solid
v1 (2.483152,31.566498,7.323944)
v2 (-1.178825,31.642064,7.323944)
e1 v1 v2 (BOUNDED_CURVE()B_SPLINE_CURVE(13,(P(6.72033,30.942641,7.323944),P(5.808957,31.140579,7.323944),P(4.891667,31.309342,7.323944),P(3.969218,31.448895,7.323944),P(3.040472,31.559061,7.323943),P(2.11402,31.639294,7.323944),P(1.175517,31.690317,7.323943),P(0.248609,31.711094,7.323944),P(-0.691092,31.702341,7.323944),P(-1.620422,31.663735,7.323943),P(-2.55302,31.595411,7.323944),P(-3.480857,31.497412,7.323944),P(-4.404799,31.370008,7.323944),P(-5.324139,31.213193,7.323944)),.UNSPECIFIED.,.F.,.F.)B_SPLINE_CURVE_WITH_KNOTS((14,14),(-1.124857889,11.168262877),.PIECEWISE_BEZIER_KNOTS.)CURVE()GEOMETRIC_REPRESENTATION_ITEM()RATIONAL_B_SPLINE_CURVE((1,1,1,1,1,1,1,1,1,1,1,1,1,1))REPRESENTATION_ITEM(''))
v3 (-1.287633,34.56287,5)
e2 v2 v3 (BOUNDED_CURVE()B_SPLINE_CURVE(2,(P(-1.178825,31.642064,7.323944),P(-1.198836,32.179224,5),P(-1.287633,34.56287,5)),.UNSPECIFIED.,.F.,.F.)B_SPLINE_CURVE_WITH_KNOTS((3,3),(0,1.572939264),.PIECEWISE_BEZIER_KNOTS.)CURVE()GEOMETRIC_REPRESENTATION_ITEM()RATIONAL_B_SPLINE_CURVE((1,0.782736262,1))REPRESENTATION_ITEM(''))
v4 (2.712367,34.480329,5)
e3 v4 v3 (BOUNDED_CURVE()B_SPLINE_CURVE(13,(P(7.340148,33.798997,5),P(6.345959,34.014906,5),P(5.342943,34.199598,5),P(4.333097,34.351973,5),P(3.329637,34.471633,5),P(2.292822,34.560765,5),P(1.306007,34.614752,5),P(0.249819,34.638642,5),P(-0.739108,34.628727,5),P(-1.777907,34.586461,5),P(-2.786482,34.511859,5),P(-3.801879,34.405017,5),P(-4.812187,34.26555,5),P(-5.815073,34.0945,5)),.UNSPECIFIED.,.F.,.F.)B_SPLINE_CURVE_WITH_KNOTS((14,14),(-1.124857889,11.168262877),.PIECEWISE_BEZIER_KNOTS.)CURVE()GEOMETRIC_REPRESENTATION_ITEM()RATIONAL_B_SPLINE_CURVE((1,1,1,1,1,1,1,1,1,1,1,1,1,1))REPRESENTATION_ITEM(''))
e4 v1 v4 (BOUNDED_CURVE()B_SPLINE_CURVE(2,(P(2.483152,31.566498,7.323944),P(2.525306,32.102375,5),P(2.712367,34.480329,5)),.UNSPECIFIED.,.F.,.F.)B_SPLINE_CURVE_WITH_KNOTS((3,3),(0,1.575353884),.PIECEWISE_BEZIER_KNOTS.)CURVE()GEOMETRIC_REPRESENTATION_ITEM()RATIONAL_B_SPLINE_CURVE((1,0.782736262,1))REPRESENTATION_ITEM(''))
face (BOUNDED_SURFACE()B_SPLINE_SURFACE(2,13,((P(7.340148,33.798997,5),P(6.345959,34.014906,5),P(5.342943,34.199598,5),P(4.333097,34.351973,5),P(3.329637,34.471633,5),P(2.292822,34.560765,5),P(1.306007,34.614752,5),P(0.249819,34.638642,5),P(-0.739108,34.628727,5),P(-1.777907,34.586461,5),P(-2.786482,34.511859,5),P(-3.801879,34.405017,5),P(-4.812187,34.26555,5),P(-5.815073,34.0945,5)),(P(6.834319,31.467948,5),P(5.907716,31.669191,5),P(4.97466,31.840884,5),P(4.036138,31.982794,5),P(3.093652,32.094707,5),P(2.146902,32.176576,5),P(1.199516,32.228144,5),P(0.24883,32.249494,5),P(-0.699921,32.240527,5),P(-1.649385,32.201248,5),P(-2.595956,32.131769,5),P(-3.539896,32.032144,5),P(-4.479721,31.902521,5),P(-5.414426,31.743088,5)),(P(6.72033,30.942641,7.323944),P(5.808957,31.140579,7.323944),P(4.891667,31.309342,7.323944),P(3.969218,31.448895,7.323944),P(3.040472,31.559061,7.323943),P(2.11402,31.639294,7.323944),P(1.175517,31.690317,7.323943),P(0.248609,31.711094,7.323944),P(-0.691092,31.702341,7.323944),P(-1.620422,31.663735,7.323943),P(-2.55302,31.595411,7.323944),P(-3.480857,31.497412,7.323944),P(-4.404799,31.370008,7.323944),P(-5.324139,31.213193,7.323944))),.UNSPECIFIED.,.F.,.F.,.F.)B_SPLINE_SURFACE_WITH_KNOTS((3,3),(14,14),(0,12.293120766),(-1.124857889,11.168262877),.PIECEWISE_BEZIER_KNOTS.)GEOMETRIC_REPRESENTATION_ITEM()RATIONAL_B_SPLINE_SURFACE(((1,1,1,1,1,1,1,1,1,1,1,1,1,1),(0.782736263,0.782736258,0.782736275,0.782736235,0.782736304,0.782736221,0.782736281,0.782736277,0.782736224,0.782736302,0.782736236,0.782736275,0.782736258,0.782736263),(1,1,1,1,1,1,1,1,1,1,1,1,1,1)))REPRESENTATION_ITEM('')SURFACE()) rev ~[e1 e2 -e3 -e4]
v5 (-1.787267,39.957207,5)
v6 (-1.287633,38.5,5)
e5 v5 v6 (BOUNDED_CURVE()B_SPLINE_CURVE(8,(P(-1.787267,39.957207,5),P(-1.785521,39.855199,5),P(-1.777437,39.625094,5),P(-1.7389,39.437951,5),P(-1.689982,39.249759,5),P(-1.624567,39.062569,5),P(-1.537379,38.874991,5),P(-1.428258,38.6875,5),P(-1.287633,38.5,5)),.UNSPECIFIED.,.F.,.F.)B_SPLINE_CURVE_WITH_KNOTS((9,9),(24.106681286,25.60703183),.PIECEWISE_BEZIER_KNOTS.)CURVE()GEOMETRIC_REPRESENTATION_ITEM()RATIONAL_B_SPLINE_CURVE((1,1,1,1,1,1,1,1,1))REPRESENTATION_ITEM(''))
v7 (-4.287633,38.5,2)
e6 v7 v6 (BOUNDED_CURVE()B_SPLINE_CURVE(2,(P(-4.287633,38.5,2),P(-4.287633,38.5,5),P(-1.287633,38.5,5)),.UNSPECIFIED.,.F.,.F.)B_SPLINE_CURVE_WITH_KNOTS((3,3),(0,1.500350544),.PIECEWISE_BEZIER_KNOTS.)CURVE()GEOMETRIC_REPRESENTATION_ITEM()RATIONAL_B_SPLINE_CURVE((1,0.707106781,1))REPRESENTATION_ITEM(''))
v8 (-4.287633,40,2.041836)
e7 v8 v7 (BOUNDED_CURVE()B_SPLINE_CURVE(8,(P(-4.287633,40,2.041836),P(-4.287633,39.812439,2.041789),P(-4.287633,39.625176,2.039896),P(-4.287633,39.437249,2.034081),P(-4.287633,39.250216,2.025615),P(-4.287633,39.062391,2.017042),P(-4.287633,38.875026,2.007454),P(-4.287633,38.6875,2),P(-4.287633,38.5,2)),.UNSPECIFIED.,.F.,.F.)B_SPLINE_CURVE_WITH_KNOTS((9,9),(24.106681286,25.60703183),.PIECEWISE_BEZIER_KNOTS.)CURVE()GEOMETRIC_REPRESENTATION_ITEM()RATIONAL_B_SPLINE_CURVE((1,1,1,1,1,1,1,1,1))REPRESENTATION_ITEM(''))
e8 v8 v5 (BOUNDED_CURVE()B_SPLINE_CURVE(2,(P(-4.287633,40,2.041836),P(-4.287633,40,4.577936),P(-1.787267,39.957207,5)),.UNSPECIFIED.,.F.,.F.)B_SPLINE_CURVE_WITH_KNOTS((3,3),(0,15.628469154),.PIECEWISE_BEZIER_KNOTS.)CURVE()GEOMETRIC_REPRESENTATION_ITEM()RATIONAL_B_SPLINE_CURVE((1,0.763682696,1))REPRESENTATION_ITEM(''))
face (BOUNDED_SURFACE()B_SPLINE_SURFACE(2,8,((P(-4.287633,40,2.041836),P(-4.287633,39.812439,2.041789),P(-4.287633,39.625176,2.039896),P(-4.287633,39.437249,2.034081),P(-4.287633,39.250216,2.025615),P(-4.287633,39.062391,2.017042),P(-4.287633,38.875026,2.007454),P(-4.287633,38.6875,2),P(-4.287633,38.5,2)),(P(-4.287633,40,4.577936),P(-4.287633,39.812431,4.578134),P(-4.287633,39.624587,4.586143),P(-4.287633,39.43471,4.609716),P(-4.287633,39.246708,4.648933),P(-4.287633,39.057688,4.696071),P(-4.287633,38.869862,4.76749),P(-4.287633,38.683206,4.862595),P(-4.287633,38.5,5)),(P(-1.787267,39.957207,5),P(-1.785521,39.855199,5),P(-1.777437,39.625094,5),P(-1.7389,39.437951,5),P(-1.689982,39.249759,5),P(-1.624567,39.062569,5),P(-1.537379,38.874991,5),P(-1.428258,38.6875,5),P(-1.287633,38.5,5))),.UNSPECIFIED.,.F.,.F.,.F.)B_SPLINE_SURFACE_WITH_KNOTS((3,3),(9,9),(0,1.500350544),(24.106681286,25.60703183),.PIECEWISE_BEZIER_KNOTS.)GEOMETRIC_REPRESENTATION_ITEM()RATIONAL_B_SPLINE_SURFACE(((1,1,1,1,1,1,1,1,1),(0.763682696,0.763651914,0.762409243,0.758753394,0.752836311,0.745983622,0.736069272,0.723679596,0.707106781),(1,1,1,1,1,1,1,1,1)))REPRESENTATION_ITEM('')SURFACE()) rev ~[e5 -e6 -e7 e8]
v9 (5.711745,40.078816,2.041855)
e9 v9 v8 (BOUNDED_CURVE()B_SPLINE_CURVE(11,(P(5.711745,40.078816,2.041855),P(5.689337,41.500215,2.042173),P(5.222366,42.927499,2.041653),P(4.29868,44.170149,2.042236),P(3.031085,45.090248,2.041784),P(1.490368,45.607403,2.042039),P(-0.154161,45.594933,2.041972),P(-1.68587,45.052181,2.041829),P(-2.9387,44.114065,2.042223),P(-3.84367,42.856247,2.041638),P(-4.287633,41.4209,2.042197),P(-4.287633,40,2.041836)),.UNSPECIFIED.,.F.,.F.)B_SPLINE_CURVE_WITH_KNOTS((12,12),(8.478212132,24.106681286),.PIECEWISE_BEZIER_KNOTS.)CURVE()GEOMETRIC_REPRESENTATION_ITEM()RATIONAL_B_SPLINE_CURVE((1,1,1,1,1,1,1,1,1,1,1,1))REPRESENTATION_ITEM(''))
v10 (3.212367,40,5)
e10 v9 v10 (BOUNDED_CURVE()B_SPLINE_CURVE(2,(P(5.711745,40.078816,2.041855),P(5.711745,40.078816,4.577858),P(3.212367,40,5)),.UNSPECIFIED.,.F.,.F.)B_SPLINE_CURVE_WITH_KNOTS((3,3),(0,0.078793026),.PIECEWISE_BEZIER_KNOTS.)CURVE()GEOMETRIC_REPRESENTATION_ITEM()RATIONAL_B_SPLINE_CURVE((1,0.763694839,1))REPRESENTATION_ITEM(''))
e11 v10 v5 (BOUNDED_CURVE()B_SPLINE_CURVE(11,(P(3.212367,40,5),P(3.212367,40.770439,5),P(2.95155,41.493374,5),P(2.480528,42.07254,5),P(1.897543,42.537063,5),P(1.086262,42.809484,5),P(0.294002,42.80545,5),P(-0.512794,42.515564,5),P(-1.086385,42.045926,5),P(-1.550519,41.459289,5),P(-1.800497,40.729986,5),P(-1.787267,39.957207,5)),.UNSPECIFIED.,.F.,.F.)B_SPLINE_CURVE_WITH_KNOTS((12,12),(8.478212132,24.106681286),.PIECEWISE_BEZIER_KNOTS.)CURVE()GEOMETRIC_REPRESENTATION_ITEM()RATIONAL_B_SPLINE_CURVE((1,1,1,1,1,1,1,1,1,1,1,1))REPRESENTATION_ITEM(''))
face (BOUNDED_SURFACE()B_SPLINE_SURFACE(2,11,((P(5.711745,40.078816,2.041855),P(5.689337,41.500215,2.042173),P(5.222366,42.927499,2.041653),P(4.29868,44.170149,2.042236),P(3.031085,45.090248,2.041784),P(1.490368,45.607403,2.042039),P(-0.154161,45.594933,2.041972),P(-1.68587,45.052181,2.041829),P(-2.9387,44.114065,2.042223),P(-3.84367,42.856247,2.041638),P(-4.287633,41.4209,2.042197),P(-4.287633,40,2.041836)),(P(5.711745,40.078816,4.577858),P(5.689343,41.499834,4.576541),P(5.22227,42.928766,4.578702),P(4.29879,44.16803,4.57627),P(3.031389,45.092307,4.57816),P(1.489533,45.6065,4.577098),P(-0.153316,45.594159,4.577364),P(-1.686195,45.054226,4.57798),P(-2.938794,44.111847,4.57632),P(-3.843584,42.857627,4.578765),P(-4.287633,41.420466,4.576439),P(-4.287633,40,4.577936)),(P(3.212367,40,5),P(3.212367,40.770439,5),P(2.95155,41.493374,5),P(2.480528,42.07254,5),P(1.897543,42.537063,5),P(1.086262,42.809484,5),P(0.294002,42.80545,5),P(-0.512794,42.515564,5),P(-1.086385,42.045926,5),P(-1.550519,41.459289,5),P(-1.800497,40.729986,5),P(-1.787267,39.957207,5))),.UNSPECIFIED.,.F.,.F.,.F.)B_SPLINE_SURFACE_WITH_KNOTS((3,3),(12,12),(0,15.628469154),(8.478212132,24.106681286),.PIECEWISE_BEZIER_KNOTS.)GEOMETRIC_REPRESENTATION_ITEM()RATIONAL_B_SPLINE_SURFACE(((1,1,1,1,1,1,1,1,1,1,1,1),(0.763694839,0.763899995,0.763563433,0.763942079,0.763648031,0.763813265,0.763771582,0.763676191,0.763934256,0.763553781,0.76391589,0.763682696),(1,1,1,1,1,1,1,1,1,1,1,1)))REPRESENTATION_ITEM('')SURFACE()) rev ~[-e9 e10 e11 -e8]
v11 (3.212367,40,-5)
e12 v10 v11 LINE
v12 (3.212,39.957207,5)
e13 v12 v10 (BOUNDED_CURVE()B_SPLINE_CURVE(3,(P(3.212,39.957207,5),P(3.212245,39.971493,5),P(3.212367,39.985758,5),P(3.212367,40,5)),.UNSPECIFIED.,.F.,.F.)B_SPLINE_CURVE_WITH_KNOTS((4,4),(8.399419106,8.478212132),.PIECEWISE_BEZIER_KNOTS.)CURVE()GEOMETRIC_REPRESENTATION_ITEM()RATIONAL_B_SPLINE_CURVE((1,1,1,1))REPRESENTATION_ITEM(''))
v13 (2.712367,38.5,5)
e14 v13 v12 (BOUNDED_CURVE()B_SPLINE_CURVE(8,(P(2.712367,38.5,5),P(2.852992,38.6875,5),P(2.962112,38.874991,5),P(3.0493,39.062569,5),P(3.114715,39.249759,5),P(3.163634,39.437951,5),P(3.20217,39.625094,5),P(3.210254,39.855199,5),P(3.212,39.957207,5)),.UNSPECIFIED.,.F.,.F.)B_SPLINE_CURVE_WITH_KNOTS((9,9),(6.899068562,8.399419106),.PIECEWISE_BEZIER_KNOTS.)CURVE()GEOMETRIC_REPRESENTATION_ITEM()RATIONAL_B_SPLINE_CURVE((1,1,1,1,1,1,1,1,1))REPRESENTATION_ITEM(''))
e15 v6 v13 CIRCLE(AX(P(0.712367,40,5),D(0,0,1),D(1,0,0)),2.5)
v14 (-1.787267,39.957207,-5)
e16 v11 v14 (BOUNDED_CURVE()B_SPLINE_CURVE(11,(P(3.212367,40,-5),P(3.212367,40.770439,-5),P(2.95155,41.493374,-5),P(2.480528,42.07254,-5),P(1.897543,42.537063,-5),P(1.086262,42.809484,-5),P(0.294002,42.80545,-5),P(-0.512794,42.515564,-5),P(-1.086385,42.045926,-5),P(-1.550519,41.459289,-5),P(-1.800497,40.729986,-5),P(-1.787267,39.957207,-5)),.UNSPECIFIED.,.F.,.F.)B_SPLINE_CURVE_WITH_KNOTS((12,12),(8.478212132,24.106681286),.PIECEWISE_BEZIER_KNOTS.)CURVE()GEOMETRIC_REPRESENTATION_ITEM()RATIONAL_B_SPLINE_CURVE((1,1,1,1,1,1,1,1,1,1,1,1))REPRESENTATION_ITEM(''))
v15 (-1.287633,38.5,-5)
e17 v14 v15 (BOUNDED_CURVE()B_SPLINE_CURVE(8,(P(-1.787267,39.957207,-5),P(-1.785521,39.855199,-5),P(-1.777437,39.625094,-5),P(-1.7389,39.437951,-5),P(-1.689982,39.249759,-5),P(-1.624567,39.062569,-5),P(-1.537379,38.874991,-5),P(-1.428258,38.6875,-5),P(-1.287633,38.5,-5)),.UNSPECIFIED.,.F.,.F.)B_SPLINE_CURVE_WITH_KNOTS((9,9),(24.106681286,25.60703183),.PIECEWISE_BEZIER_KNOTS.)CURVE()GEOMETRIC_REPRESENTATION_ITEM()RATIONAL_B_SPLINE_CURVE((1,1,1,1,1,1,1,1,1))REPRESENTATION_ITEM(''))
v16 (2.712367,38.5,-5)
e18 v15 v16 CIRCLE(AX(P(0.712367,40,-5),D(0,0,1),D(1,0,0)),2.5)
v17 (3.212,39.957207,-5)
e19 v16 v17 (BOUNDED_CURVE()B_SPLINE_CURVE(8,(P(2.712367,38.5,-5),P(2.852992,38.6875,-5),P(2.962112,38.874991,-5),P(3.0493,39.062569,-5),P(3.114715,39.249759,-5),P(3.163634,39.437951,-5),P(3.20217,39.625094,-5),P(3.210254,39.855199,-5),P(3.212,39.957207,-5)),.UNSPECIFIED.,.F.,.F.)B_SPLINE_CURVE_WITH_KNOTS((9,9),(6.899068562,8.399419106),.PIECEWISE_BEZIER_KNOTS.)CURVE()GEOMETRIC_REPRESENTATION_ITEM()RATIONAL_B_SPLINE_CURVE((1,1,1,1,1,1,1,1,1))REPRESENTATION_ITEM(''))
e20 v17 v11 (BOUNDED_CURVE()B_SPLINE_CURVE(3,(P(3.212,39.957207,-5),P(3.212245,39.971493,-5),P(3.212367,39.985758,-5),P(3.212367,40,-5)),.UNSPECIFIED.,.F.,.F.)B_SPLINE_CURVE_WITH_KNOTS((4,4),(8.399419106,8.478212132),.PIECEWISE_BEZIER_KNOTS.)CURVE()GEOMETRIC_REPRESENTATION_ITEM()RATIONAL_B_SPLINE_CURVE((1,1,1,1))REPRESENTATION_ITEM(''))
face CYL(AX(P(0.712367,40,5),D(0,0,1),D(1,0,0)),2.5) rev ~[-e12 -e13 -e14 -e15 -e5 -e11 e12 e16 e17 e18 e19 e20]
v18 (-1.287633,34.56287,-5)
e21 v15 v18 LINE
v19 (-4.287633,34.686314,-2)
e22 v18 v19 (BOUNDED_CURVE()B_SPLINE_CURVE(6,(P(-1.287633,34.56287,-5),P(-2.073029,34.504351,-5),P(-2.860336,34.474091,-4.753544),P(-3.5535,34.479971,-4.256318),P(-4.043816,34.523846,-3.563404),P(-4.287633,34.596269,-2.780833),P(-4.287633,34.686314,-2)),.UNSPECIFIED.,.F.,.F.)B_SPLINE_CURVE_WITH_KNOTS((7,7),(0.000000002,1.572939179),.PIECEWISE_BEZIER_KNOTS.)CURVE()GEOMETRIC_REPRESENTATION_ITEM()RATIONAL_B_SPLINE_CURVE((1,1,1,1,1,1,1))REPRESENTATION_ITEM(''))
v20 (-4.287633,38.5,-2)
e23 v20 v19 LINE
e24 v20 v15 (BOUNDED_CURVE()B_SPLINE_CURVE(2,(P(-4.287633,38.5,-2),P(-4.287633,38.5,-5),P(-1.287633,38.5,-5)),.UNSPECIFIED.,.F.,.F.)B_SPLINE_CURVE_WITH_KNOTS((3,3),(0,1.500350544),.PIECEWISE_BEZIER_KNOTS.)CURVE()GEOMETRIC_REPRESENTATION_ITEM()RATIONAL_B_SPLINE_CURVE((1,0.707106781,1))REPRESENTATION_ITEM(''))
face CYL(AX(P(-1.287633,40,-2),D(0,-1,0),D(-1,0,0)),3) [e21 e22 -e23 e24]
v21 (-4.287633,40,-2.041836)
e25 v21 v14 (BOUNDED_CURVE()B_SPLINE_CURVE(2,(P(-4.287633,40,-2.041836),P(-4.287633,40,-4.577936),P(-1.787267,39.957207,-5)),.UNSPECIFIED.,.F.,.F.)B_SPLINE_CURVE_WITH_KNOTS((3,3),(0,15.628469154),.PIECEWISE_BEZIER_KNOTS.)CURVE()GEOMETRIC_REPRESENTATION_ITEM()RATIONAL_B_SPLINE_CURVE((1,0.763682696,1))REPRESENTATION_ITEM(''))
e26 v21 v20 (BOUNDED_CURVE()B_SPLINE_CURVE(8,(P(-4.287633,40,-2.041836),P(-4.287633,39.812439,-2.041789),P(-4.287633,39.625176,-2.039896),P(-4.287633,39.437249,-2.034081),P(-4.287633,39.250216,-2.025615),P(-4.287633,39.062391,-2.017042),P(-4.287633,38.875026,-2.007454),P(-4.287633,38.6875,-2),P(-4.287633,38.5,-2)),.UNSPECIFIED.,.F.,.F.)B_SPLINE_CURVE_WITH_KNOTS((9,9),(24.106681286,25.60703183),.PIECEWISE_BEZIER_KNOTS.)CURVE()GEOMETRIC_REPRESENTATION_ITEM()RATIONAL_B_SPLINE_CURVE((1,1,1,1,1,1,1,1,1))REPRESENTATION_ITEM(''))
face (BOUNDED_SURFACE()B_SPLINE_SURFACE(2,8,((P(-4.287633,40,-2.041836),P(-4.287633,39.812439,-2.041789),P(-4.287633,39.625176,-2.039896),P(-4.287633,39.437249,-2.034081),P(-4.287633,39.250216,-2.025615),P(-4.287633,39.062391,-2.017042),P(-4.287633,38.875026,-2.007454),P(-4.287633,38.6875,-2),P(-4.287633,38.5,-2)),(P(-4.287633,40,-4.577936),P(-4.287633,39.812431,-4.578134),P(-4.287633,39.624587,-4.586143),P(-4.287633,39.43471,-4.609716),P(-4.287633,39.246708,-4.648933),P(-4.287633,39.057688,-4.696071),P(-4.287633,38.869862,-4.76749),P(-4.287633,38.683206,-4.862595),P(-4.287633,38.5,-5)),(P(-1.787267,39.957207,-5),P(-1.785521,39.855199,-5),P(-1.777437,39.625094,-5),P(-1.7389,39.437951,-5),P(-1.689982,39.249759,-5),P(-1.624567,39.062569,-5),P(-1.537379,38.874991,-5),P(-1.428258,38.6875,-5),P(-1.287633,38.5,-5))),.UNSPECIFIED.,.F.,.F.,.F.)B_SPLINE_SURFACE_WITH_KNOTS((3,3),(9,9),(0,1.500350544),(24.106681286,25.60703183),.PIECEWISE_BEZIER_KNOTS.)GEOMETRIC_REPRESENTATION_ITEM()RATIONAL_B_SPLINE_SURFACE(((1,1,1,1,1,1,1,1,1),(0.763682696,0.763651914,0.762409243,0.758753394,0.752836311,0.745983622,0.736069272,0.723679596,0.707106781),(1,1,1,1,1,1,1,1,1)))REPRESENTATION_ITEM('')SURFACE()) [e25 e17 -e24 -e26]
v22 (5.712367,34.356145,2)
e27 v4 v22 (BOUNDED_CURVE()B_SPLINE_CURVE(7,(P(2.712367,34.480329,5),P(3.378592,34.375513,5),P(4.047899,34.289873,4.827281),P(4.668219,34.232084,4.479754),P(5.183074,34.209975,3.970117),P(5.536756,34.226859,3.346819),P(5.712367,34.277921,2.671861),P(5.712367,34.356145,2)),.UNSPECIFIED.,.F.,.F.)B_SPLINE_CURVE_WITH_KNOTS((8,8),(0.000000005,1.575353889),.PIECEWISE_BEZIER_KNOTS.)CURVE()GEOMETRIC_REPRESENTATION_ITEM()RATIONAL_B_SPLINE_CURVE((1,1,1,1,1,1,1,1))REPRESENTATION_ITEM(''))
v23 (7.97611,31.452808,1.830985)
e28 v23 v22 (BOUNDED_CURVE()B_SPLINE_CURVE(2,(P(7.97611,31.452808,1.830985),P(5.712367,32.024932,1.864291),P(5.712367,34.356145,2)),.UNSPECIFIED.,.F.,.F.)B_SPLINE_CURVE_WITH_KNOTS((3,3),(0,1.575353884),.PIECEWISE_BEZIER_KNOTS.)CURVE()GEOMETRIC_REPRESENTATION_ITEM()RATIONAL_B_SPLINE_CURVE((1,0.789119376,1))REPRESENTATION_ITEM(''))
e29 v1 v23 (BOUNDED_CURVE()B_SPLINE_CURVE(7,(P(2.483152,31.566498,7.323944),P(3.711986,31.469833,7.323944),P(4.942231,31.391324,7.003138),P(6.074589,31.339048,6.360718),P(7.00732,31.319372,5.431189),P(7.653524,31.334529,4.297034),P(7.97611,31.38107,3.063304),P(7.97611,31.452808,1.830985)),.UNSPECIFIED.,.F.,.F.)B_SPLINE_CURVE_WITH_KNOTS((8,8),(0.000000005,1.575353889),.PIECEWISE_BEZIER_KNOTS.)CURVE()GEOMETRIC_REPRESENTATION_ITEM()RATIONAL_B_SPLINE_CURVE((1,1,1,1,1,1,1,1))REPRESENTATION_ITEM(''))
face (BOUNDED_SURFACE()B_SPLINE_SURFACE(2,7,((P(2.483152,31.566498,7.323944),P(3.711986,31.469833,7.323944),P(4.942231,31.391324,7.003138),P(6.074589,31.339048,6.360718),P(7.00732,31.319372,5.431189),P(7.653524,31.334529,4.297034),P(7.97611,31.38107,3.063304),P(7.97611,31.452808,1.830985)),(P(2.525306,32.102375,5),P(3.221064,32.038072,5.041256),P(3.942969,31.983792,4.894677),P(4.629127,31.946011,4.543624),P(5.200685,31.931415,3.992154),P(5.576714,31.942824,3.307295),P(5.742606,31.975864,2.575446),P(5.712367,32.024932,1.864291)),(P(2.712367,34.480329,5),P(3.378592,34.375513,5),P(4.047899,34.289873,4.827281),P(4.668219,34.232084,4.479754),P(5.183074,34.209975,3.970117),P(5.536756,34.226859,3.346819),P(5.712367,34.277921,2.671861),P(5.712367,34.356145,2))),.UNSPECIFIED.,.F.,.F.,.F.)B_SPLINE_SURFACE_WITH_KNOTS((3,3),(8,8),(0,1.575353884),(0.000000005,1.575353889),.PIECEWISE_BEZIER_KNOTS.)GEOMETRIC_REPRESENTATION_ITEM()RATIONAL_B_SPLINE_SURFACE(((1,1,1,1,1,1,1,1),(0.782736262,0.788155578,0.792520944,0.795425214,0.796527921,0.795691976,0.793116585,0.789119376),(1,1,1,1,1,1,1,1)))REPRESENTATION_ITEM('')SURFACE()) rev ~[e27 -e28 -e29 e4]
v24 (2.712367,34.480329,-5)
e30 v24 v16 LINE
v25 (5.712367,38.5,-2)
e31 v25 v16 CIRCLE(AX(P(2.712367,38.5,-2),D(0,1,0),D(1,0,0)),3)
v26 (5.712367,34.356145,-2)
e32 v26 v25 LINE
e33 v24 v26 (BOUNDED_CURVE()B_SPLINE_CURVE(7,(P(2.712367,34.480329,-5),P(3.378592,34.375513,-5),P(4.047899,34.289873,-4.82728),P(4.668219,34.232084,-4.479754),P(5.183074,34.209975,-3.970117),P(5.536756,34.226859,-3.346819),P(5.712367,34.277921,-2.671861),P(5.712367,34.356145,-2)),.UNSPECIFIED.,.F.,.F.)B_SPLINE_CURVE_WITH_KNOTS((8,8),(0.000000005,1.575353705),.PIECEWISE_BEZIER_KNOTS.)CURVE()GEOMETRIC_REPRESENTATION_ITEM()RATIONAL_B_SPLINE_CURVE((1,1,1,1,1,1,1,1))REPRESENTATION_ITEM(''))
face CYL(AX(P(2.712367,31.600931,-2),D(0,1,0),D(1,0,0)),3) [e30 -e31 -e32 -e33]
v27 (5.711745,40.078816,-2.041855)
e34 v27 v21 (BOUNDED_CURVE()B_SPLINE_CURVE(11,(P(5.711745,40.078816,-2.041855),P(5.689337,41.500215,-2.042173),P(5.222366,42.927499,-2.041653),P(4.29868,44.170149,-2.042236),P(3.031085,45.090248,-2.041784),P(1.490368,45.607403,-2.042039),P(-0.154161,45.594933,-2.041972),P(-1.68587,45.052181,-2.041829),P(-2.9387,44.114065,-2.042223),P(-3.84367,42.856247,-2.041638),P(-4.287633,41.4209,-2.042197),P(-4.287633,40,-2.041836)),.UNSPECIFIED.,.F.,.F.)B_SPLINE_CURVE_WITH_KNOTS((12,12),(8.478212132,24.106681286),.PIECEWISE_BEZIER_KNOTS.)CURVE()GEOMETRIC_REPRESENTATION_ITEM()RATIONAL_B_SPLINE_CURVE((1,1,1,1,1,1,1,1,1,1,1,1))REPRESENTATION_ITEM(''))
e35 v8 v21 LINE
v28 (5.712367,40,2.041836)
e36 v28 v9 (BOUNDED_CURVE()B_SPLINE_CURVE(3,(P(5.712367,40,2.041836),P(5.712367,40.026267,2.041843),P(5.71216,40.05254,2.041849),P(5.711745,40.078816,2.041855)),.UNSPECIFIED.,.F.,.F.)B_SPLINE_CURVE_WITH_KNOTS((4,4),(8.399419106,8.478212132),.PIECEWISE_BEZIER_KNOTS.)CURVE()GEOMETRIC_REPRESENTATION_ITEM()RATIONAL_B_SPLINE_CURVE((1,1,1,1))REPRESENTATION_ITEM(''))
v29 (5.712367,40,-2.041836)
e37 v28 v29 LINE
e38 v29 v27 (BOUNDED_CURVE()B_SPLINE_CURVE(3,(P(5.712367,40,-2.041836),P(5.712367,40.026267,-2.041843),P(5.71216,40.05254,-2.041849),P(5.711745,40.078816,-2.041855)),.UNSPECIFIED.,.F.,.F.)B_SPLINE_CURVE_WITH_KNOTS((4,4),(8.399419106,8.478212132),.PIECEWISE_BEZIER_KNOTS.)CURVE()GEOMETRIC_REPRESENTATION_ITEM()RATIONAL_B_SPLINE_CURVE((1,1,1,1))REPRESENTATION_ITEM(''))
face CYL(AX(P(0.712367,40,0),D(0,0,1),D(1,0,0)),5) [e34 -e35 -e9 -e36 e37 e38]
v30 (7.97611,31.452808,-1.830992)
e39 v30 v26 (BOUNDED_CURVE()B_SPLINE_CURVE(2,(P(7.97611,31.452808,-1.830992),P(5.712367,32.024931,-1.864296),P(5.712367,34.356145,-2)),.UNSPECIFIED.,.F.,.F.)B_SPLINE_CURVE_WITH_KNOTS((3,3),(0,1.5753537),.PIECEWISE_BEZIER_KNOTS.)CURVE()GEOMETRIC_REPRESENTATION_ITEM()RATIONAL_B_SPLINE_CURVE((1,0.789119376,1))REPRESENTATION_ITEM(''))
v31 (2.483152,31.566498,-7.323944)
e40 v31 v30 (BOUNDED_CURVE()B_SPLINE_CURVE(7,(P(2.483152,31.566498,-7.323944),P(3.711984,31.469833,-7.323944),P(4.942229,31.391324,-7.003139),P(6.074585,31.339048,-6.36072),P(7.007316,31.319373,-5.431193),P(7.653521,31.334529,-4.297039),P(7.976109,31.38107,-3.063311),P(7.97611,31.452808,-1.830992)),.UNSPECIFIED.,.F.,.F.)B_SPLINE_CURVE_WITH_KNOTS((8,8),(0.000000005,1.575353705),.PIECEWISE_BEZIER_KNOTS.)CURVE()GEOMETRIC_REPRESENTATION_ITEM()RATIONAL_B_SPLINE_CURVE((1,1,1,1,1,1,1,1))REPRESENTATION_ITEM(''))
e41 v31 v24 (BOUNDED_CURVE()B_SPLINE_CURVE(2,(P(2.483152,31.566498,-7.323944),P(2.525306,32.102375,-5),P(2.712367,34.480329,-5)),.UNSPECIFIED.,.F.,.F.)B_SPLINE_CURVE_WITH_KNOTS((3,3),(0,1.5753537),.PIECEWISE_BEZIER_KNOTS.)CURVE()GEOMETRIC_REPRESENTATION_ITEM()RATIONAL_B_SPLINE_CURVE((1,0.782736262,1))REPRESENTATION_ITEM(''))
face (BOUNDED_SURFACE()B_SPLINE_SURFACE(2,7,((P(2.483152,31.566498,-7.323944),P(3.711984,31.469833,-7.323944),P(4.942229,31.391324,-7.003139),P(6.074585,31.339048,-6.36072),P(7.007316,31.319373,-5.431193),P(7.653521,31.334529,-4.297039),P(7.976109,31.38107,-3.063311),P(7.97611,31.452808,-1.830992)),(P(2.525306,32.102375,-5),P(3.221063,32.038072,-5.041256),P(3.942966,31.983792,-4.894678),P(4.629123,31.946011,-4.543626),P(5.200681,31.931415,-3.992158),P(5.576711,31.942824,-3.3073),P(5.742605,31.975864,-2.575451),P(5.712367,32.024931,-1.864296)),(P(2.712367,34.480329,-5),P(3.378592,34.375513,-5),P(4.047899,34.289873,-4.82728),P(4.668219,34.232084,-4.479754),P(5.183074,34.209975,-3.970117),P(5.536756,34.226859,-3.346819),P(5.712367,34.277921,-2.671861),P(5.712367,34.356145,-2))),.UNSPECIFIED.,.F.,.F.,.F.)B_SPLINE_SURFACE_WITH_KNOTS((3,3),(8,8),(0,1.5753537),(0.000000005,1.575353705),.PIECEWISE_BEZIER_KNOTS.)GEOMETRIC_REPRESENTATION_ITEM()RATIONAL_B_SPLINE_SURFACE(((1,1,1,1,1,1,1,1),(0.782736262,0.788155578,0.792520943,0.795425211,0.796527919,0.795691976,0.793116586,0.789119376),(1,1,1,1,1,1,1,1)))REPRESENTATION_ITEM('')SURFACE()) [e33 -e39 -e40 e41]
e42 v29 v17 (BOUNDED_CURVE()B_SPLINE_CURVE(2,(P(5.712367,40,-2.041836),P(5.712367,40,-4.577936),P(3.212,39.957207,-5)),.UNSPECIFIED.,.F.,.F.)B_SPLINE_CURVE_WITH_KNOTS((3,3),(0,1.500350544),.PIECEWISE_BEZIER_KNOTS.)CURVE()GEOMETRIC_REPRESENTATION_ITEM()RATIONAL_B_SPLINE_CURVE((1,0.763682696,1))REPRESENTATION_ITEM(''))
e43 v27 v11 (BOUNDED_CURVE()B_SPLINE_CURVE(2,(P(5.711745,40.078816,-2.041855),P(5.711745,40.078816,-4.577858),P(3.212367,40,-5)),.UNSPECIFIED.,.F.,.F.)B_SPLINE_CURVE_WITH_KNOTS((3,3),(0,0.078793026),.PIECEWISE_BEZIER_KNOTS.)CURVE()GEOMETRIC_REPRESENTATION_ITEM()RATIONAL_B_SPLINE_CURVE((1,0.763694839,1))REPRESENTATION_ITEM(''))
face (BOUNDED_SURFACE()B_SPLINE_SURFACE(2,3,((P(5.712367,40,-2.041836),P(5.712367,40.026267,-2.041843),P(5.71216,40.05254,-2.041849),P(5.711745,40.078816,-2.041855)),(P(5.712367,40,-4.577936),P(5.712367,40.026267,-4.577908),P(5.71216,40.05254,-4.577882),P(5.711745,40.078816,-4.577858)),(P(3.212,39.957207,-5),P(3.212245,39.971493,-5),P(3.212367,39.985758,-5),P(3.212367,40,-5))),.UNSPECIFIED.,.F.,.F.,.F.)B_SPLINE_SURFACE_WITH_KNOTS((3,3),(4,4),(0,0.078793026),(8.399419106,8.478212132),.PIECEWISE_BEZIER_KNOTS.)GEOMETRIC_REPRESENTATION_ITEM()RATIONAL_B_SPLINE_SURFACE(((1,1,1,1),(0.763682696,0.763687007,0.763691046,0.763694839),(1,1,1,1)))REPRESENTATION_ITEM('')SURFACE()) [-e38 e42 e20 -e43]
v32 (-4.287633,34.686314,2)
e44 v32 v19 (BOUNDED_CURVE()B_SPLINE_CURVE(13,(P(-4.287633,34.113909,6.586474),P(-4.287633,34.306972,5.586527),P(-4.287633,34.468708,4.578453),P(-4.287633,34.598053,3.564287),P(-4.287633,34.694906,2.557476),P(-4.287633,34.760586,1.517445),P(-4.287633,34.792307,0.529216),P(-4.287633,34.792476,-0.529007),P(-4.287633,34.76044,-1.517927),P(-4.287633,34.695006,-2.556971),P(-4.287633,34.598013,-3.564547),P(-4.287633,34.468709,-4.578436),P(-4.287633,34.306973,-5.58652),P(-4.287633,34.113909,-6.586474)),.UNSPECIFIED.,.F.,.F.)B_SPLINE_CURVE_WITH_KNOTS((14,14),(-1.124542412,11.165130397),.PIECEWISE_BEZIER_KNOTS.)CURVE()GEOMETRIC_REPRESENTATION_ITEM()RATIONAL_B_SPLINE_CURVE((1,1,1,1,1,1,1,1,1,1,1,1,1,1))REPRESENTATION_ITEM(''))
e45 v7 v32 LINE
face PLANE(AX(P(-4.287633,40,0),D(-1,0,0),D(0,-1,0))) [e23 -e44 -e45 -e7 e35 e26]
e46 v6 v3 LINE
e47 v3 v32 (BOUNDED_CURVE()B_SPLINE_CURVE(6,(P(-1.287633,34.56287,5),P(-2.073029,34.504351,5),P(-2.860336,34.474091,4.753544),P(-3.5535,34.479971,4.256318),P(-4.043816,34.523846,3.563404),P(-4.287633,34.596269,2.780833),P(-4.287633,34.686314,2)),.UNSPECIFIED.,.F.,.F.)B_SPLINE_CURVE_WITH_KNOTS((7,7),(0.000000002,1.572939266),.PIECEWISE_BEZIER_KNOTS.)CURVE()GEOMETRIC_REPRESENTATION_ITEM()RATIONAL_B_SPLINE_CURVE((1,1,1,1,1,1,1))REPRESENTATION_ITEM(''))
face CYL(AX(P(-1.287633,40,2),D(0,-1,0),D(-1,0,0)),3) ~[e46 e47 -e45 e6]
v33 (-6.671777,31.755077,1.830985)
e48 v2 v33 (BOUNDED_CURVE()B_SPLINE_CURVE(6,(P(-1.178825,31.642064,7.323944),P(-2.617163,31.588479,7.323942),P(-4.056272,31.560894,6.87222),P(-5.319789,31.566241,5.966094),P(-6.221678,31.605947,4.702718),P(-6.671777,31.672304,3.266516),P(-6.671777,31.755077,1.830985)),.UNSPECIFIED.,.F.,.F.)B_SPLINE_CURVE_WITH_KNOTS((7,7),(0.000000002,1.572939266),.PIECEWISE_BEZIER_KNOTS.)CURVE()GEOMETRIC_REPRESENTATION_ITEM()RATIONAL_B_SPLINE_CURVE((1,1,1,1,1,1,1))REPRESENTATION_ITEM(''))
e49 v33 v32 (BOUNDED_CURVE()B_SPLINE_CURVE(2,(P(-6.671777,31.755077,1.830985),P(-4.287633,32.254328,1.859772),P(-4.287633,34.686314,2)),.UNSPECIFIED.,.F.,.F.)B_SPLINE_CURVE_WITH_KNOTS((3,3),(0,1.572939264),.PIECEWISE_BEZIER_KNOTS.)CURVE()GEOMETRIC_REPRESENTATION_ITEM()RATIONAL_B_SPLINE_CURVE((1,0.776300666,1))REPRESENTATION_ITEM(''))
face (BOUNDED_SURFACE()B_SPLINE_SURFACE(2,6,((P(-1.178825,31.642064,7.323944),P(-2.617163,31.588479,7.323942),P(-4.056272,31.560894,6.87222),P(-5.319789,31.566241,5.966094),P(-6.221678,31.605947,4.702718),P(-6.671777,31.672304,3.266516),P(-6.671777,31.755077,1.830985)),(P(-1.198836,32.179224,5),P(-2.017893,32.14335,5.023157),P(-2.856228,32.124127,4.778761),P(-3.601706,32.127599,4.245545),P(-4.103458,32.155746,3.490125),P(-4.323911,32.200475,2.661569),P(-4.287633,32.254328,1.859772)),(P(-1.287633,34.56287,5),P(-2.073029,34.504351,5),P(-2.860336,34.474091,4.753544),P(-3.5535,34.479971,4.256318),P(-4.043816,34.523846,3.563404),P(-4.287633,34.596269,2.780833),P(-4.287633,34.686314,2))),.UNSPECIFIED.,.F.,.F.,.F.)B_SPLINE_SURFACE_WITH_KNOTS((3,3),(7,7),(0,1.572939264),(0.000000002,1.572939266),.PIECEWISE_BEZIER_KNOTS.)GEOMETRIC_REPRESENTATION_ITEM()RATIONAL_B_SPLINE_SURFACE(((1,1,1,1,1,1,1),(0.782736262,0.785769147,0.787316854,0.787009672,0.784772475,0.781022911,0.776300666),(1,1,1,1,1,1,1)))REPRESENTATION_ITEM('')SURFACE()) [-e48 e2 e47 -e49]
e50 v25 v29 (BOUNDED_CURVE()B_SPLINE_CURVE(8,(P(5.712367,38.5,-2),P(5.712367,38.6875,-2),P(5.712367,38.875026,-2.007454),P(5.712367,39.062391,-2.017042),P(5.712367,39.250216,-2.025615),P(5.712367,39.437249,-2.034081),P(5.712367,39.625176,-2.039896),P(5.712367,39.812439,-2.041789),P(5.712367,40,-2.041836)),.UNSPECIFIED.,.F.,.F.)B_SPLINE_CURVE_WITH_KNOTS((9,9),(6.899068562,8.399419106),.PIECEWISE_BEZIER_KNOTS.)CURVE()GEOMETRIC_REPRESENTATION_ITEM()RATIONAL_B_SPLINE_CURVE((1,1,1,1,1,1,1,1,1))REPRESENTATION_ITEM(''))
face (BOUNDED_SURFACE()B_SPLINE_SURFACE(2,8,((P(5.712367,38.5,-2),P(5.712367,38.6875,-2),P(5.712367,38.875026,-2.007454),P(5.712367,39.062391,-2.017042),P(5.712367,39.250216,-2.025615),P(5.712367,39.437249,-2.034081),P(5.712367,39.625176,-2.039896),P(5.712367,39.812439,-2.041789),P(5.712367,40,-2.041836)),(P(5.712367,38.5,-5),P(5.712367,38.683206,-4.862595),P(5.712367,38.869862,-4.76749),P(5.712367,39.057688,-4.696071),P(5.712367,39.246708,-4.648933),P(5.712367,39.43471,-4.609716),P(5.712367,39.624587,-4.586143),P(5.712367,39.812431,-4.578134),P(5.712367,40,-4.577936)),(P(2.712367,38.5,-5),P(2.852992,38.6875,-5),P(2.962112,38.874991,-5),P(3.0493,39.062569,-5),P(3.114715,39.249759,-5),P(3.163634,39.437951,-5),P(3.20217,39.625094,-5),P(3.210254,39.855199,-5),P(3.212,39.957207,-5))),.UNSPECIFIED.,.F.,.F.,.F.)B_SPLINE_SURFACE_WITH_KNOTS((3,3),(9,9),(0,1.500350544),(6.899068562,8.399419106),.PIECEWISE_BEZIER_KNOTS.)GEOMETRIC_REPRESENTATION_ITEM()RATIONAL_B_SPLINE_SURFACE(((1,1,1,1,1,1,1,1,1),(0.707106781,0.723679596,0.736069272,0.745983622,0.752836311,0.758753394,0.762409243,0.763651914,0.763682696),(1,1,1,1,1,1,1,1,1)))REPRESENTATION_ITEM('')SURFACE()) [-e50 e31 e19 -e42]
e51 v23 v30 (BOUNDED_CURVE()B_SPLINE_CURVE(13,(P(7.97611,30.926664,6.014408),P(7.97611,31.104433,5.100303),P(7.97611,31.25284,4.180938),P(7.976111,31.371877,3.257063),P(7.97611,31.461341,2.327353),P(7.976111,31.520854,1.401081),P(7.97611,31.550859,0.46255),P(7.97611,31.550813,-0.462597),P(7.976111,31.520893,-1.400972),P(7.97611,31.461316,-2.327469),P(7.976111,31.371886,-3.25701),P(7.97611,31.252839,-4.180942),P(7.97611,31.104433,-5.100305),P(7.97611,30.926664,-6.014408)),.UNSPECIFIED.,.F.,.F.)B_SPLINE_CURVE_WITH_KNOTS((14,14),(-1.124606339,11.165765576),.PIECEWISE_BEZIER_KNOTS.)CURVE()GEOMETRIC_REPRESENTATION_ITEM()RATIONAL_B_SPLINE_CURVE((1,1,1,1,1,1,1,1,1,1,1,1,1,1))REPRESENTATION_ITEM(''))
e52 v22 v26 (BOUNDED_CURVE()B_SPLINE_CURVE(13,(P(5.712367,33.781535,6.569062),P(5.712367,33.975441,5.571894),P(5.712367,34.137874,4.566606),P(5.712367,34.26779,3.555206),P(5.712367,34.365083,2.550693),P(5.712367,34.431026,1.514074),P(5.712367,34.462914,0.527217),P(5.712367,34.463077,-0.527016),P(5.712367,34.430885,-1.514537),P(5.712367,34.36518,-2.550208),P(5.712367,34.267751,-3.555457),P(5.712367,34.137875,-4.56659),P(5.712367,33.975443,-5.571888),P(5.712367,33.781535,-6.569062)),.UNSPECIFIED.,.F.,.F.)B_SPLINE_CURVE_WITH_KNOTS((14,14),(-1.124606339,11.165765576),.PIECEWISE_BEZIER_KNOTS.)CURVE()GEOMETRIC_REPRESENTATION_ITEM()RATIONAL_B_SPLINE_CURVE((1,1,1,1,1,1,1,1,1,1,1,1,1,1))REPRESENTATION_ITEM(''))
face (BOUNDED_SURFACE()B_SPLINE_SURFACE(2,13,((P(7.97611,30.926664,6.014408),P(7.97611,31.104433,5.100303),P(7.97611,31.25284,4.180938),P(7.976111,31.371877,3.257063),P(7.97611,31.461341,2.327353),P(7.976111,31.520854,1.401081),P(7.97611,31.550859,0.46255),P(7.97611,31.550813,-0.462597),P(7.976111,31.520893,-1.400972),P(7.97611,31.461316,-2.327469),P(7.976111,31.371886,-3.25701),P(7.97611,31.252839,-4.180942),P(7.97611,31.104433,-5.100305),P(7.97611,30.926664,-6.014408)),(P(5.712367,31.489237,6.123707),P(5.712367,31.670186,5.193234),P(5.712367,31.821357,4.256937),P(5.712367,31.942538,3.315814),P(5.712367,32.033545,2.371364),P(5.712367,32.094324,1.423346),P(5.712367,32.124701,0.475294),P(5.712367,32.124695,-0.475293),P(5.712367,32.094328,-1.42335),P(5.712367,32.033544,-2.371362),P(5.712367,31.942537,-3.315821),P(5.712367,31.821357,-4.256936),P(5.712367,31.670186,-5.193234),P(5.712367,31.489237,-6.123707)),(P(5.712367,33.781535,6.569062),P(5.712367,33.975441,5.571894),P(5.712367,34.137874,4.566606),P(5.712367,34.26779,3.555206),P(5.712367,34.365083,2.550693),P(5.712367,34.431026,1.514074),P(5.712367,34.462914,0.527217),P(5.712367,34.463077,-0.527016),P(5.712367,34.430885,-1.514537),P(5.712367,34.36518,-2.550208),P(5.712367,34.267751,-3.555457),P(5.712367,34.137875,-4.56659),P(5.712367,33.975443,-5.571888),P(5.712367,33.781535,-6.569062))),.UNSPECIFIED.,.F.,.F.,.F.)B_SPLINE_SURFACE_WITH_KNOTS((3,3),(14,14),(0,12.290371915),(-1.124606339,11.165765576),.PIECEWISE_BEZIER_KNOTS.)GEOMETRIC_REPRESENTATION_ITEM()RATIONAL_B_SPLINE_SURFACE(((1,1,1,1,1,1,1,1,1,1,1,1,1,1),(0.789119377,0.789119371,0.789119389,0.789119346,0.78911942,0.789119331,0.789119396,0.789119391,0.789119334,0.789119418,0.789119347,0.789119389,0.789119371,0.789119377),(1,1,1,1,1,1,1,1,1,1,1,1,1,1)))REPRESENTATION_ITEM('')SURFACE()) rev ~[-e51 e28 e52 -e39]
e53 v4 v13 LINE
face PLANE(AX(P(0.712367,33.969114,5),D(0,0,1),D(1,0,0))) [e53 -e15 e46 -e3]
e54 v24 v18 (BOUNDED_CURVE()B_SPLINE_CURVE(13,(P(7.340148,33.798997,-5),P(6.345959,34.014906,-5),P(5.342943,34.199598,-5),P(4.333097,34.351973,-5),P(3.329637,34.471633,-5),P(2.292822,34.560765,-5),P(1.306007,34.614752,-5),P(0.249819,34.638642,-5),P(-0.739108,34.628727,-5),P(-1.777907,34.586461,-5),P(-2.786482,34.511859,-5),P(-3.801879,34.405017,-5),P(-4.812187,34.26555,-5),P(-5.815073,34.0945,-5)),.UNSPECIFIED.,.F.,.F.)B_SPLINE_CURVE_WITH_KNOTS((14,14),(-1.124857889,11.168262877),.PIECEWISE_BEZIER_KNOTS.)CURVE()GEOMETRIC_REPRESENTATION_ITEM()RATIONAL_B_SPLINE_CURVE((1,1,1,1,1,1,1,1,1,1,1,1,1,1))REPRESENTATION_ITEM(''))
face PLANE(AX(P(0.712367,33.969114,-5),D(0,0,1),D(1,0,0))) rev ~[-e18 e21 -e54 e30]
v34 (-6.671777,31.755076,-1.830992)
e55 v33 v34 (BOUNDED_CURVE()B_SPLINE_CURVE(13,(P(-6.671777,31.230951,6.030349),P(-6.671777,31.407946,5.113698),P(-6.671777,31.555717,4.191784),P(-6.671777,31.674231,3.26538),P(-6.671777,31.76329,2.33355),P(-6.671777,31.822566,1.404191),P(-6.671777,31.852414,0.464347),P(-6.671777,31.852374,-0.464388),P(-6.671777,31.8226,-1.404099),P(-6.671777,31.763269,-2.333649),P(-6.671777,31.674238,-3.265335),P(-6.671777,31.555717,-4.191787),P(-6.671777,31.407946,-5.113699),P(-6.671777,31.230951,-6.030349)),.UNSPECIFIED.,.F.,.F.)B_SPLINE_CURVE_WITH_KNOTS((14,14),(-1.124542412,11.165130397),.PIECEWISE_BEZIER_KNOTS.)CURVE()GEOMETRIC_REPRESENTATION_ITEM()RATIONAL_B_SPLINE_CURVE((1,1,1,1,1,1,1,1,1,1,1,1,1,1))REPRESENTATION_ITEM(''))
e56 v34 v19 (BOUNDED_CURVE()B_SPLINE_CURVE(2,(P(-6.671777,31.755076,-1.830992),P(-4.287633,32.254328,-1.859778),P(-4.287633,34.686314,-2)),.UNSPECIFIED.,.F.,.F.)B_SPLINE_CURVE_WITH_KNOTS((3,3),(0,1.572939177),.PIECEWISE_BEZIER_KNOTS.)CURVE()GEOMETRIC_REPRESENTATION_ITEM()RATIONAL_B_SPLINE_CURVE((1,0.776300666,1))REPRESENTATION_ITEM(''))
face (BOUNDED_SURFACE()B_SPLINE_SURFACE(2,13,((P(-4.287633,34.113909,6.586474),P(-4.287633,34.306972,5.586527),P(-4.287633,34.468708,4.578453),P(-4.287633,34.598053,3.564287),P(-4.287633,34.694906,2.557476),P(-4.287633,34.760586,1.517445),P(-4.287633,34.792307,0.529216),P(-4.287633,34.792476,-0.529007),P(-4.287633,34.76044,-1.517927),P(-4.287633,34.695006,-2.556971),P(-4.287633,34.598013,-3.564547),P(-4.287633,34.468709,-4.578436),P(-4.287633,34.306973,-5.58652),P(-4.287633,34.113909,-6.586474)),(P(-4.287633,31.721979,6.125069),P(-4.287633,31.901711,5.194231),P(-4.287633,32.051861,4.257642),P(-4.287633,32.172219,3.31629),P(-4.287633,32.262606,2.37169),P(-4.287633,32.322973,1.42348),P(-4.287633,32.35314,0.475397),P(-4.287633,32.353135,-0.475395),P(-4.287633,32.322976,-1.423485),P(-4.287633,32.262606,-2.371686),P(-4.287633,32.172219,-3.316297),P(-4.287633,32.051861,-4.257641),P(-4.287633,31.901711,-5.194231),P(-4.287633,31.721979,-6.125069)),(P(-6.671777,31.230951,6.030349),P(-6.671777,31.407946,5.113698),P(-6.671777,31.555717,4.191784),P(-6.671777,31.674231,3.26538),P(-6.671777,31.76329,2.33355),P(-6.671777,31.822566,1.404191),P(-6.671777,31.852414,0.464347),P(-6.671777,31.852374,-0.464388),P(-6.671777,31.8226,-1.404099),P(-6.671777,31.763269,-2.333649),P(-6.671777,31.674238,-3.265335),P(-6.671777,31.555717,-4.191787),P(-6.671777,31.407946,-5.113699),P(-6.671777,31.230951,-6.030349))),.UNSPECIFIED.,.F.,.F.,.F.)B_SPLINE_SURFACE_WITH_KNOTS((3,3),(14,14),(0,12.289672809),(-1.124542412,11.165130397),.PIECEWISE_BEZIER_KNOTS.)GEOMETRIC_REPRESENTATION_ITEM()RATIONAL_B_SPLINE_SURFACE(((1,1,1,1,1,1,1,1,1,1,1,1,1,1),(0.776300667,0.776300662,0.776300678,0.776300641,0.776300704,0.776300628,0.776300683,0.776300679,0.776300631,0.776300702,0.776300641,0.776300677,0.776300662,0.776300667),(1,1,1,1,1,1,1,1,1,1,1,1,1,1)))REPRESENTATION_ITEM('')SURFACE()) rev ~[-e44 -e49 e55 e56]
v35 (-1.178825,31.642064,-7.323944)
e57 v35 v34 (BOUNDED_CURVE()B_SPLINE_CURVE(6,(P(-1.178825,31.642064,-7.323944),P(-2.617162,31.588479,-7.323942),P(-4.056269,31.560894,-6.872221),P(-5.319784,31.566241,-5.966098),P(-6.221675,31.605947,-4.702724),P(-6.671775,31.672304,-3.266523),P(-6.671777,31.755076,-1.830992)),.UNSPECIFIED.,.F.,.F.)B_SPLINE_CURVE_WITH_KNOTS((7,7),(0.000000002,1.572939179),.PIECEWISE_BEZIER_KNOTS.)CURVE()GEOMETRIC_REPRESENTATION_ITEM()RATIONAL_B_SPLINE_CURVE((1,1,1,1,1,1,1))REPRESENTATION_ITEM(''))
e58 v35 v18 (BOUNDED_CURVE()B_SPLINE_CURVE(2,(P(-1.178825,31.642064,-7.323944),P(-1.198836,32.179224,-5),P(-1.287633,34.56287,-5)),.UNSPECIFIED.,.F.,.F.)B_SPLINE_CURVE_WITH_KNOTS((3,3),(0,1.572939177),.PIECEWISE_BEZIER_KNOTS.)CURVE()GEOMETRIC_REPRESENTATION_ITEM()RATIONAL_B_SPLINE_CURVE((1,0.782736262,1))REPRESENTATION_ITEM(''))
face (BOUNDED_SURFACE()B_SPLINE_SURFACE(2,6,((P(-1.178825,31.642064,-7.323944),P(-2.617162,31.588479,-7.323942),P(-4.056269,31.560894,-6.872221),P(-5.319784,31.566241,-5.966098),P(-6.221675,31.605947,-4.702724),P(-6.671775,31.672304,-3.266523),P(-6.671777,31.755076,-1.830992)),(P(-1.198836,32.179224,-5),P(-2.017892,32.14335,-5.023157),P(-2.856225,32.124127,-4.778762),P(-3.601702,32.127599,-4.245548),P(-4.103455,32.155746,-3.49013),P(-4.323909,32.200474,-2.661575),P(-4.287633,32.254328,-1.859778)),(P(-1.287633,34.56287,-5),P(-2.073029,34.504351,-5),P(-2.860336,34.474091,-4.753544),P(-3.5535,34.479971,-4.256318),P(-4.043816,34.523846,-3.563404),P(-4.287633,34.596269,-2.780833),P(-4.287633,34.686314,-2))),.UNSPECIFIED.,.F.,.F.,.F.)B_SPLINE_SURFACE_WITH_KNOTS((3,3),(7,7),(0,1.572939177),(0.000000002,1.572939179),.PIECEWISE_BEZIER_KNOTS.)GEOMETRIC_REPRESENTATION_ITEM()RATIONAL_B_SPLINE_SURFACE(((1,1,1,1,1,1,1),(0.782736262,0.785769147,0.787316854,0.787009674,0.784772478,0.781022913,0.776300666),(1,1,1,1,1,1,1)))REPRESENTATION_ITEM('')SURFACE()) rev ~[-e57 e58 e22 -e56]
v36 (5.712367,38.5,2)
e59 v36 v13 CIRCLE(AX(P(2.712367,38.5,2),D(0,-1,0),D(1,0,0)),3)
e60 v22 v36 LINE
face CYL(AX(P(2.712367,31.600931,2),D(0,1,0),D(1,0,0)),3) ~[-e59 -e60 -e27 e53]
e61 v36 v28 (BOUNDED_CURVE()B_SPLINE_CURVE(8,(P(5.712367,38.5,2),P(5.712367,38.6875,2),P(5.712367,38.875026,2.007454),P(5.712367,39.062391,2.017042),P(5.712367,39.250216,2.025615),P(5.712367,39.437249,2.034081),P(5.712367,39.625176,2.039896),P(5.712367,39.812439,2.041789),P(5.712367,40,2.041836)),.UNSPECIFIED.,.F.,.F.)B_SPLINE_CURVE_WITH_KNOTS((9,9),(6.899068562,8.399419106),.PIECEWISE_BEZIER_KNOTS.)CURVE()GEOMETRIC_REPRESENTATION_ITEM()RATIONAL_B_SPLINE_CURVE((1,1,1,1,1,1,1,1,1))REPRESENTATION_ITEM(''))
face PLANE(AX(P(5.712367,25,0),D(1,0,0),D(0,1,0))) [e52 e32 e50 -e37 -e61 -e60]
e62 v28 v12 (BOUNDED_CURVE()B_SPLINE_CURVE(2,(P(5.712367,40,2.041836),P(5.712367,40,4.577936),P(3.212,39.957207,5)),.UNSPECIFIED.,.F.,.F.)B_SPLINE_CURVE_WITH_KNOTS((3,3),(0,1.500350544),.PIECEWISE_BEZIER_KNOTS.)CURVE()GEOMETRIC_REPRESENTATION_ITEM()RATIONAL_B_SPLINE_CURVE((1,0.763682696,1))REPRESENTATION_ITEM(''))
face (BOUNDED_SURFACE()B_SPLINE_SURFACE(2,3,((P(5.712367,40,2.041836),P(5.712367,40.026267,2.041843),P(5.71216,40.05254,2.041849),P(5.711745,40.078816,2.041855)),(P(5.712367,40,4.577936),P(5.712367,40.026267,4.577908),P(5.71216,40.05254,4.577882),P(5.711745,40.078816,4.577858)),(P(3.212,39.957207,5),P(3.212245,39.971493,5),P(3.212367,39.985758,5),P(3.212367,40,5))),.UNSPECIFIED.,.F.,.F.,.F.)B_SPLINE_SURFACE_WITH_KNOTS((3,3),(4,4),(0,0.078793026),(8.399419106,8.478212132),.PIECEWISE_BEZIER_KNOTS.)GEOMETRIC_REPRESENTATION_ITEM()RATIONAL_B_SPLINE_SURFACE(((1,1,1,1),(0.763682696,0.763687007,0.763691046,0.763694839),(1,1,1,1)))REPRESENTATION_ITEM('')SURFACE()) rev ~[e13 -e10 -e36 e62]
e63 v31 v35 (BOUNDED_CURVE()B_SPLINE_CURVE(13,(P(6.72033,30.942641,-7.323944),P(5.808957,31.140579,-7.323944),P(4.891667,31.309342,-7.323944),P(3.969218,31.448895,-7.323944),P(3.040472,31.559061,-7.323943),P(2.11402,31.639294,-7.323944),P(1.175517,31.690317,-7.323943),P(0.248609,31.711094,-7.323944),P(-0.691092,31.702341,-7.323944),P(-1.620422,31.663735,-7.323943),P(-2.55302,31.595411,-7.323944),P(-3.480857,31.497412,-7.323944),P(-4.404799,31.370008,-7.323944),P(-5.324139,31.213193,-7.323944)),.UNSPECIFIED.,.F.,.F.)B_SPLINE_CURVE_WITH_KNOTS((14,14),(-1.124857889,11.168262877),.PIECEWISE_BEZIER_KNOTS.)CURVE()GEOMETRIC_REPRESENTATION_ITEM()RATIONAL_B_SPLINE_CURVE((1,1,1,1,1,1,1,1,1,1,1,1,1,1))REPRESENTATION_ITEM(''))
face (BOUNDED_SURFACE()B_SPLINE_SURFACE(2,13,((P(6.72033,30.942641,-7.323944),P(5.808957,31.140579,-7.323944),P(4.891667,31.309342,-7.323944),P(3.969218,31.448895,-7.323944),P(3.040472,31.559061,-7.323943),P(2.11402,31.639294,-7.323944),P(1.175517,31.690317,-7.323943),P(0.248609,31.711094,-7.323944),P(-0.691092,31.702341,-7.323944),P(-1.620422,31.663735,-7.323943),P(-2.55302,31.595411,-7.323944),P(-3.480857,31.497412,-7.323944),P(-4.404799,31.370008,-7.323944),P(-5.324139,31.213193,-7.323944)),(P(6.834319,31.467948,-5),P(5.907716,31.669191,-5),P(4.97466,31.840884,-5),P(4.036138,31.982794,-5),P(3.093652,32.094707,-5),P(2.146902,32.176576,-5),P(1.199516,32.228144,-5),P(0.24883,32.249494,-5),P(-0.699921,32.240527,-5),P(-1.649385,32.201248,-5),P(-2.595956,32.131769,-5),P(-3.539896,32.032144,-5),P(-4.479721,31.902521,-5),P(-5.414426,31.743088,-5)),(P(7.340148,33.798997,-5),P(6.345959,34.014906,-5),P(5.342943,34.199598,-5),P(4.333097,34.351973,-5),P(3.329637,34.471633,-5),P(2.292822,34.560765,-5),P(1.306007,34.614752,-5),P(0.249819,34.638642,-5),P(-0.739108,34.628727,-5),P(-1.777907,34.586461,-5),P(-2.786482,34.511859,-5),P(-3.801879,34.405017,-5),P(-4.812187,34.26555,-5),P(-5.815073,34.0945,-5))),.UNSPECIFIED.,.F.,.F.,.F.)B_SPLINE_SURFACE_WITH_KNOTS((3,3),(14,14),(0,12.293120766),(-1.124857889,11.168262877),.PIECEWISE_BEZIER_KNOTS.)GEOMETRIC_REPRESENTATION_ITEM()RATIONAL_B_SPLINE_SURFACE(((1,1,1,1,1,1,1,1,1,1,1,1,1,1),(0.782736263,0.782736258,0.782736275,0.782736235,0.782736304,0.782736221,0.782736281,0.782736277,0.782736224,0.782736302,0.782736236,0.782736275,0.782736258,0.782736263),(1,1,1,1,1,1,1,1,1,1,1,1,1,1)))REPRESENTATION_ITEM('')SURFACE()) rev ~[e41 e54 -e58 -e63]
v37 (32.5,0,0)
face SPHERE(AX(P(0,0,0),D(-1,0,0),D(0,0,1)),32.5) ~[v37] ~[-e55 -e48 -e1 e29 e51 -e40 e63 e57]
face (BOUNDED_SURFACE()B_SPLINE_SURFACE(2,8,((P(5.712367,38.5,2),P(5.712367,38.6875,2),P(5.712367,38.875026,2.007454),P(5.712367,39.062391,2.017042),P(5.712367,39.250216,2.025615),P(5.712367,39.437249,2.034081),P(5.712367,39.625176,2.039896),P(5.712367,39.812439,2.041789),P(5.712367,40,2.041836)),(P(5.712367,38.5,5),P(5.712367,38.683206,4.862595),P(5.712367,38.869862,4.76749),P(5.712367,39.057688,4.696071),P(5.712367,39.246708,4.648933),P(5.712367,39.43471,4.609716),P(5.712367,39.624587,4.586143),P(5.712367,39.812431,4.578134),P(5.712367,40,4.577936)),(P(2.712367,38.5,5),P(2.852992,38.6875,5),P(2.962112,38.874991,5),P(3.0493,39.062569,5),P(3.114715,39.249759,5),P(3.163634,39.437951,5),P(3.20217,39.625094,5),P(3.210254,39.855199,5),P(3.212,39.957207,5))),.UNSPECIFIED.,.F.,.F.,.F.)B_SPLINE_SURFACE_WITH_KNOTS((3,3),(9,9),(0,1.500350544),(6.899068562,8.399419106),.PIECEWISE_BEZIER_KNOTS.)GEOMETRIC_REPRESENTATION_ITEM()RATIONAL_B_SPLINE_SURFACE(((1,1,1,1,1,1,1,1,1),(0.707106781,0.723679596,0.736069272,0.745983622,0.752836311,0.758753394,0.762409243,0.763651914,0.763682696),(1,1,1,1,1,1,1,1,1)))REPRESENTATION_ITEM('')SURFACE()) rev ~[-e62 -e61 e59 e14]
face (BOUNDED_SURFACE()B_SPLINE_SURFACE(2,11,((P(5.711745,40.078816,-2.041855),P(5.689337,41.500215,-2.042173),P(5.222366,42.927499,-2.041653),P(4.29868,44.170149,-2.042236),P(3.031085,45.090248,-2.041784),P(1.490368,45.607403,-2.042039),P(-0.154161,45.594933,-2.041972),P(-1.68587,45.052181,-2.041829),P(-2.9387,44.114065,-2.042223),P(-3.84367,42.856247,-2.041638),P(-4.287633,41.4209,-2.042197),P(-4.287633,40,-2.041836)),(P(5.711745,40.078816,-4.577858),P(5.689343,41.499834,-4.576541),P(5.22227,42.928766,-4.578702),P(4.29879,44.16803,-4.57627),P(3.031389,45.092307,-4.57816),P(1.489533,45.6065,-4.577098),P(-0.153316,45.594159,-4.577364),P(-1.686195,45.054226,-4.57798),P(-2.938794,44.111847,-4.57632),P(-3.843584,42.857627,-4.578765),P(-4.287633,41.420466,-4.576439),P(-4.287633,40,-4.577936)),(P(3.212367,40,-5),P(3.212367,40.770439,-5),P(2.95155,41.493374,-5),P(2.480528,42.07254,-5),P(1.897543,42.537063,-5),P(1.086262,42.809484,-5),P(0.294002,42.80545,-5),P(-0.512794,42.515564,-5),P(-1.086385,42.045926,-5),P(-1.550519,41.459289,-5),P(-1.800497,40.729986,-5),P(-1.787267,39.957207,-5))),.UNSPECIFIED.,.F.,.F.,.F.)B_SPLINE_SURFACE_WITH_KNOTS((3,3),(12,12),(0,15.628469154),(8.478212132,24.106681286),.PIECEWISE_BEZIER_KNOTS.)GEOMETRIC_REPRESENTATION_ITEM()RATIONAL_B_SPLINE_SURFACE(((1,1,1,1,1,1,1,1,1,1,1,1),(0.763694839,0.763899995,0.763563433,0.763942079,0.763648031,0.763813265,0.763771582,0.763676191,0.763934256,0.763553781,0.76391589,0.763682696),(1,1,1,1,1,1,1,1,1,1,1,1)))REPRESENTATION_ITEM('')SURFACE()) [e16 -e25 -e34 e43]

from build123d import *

# Parameters (mm, degrees)
BOSS_EXTRUDE1_DEPTH = 5
SKETCH3_R           = 2.5
CUT_EXTRUDE1_DEPTH  = 10
FILLET7_R           = 3


with BuildPart() as part:
    # Sketch1 → Revolve1 (revolve)
    with BuildSketch(Plane(origin=(0, 0, 0), x_dir=(1, 0, 0), z_dir=(0, 1, 0))):
        with BuildLine():
            Line((-32.5, 0), (32.5, 0))
            ThreePointArc((32.5, 0), (0, -32.5), (-32.5, 0))
        make_face()
    revolve(axis=Axis((-32.5, 0, 0), (1, 0, 0)))

    # Sketch2 → Boss-Extrude1 (add, symmetric)
    with BuildSketch(Plane.XY):
        with BuildLine():
            Line((-4.287633392, 40), (-4.287633392, 25))
            Line((-4.287633392, 25), (5.712366608, 25))
            Line((5.712366608, 25), (5.712366608, 40))
            ThreePointArc((5.712366608, 40), (0.712366608, 45), (-4.287633392, 40))
        make_face()
    extrude(amount=BOSS_EXTRUDE1_DEPTH, both=True)

    # Sketch3 → Cut-Extrude1 (cut)
    with BuildSketch(Plane.XY.offset(5)):
        with Locations((0.712366608, 40)):
            Circle(SKETCH3_R)
    extrude(amount=-CUT_EXTRUDE1_DEPTH, mode=Mode.SUBTRACT)

    # Fillet7
    fillet7_edges = [part.edges().sort_by_distance(p)[0] for p in [
        (-4.287633392, 32.21593084, 0),
        (5.712366608, 31.994044254, 0),
        (-4.287633392, 35.912779455, -5),
        (5.712366608, 35.800465719, -5),
        (-4.287633392, 35.912779455, 5),
        (5.712366608, 35.800465719, 5),
        (0.72116611, 32.104982782, -5),
        (0.72116611, 32.104982782, 5),
    ]]
    fillet(fillet7_edges, radius=FILLET7_R)


solid = part.part
